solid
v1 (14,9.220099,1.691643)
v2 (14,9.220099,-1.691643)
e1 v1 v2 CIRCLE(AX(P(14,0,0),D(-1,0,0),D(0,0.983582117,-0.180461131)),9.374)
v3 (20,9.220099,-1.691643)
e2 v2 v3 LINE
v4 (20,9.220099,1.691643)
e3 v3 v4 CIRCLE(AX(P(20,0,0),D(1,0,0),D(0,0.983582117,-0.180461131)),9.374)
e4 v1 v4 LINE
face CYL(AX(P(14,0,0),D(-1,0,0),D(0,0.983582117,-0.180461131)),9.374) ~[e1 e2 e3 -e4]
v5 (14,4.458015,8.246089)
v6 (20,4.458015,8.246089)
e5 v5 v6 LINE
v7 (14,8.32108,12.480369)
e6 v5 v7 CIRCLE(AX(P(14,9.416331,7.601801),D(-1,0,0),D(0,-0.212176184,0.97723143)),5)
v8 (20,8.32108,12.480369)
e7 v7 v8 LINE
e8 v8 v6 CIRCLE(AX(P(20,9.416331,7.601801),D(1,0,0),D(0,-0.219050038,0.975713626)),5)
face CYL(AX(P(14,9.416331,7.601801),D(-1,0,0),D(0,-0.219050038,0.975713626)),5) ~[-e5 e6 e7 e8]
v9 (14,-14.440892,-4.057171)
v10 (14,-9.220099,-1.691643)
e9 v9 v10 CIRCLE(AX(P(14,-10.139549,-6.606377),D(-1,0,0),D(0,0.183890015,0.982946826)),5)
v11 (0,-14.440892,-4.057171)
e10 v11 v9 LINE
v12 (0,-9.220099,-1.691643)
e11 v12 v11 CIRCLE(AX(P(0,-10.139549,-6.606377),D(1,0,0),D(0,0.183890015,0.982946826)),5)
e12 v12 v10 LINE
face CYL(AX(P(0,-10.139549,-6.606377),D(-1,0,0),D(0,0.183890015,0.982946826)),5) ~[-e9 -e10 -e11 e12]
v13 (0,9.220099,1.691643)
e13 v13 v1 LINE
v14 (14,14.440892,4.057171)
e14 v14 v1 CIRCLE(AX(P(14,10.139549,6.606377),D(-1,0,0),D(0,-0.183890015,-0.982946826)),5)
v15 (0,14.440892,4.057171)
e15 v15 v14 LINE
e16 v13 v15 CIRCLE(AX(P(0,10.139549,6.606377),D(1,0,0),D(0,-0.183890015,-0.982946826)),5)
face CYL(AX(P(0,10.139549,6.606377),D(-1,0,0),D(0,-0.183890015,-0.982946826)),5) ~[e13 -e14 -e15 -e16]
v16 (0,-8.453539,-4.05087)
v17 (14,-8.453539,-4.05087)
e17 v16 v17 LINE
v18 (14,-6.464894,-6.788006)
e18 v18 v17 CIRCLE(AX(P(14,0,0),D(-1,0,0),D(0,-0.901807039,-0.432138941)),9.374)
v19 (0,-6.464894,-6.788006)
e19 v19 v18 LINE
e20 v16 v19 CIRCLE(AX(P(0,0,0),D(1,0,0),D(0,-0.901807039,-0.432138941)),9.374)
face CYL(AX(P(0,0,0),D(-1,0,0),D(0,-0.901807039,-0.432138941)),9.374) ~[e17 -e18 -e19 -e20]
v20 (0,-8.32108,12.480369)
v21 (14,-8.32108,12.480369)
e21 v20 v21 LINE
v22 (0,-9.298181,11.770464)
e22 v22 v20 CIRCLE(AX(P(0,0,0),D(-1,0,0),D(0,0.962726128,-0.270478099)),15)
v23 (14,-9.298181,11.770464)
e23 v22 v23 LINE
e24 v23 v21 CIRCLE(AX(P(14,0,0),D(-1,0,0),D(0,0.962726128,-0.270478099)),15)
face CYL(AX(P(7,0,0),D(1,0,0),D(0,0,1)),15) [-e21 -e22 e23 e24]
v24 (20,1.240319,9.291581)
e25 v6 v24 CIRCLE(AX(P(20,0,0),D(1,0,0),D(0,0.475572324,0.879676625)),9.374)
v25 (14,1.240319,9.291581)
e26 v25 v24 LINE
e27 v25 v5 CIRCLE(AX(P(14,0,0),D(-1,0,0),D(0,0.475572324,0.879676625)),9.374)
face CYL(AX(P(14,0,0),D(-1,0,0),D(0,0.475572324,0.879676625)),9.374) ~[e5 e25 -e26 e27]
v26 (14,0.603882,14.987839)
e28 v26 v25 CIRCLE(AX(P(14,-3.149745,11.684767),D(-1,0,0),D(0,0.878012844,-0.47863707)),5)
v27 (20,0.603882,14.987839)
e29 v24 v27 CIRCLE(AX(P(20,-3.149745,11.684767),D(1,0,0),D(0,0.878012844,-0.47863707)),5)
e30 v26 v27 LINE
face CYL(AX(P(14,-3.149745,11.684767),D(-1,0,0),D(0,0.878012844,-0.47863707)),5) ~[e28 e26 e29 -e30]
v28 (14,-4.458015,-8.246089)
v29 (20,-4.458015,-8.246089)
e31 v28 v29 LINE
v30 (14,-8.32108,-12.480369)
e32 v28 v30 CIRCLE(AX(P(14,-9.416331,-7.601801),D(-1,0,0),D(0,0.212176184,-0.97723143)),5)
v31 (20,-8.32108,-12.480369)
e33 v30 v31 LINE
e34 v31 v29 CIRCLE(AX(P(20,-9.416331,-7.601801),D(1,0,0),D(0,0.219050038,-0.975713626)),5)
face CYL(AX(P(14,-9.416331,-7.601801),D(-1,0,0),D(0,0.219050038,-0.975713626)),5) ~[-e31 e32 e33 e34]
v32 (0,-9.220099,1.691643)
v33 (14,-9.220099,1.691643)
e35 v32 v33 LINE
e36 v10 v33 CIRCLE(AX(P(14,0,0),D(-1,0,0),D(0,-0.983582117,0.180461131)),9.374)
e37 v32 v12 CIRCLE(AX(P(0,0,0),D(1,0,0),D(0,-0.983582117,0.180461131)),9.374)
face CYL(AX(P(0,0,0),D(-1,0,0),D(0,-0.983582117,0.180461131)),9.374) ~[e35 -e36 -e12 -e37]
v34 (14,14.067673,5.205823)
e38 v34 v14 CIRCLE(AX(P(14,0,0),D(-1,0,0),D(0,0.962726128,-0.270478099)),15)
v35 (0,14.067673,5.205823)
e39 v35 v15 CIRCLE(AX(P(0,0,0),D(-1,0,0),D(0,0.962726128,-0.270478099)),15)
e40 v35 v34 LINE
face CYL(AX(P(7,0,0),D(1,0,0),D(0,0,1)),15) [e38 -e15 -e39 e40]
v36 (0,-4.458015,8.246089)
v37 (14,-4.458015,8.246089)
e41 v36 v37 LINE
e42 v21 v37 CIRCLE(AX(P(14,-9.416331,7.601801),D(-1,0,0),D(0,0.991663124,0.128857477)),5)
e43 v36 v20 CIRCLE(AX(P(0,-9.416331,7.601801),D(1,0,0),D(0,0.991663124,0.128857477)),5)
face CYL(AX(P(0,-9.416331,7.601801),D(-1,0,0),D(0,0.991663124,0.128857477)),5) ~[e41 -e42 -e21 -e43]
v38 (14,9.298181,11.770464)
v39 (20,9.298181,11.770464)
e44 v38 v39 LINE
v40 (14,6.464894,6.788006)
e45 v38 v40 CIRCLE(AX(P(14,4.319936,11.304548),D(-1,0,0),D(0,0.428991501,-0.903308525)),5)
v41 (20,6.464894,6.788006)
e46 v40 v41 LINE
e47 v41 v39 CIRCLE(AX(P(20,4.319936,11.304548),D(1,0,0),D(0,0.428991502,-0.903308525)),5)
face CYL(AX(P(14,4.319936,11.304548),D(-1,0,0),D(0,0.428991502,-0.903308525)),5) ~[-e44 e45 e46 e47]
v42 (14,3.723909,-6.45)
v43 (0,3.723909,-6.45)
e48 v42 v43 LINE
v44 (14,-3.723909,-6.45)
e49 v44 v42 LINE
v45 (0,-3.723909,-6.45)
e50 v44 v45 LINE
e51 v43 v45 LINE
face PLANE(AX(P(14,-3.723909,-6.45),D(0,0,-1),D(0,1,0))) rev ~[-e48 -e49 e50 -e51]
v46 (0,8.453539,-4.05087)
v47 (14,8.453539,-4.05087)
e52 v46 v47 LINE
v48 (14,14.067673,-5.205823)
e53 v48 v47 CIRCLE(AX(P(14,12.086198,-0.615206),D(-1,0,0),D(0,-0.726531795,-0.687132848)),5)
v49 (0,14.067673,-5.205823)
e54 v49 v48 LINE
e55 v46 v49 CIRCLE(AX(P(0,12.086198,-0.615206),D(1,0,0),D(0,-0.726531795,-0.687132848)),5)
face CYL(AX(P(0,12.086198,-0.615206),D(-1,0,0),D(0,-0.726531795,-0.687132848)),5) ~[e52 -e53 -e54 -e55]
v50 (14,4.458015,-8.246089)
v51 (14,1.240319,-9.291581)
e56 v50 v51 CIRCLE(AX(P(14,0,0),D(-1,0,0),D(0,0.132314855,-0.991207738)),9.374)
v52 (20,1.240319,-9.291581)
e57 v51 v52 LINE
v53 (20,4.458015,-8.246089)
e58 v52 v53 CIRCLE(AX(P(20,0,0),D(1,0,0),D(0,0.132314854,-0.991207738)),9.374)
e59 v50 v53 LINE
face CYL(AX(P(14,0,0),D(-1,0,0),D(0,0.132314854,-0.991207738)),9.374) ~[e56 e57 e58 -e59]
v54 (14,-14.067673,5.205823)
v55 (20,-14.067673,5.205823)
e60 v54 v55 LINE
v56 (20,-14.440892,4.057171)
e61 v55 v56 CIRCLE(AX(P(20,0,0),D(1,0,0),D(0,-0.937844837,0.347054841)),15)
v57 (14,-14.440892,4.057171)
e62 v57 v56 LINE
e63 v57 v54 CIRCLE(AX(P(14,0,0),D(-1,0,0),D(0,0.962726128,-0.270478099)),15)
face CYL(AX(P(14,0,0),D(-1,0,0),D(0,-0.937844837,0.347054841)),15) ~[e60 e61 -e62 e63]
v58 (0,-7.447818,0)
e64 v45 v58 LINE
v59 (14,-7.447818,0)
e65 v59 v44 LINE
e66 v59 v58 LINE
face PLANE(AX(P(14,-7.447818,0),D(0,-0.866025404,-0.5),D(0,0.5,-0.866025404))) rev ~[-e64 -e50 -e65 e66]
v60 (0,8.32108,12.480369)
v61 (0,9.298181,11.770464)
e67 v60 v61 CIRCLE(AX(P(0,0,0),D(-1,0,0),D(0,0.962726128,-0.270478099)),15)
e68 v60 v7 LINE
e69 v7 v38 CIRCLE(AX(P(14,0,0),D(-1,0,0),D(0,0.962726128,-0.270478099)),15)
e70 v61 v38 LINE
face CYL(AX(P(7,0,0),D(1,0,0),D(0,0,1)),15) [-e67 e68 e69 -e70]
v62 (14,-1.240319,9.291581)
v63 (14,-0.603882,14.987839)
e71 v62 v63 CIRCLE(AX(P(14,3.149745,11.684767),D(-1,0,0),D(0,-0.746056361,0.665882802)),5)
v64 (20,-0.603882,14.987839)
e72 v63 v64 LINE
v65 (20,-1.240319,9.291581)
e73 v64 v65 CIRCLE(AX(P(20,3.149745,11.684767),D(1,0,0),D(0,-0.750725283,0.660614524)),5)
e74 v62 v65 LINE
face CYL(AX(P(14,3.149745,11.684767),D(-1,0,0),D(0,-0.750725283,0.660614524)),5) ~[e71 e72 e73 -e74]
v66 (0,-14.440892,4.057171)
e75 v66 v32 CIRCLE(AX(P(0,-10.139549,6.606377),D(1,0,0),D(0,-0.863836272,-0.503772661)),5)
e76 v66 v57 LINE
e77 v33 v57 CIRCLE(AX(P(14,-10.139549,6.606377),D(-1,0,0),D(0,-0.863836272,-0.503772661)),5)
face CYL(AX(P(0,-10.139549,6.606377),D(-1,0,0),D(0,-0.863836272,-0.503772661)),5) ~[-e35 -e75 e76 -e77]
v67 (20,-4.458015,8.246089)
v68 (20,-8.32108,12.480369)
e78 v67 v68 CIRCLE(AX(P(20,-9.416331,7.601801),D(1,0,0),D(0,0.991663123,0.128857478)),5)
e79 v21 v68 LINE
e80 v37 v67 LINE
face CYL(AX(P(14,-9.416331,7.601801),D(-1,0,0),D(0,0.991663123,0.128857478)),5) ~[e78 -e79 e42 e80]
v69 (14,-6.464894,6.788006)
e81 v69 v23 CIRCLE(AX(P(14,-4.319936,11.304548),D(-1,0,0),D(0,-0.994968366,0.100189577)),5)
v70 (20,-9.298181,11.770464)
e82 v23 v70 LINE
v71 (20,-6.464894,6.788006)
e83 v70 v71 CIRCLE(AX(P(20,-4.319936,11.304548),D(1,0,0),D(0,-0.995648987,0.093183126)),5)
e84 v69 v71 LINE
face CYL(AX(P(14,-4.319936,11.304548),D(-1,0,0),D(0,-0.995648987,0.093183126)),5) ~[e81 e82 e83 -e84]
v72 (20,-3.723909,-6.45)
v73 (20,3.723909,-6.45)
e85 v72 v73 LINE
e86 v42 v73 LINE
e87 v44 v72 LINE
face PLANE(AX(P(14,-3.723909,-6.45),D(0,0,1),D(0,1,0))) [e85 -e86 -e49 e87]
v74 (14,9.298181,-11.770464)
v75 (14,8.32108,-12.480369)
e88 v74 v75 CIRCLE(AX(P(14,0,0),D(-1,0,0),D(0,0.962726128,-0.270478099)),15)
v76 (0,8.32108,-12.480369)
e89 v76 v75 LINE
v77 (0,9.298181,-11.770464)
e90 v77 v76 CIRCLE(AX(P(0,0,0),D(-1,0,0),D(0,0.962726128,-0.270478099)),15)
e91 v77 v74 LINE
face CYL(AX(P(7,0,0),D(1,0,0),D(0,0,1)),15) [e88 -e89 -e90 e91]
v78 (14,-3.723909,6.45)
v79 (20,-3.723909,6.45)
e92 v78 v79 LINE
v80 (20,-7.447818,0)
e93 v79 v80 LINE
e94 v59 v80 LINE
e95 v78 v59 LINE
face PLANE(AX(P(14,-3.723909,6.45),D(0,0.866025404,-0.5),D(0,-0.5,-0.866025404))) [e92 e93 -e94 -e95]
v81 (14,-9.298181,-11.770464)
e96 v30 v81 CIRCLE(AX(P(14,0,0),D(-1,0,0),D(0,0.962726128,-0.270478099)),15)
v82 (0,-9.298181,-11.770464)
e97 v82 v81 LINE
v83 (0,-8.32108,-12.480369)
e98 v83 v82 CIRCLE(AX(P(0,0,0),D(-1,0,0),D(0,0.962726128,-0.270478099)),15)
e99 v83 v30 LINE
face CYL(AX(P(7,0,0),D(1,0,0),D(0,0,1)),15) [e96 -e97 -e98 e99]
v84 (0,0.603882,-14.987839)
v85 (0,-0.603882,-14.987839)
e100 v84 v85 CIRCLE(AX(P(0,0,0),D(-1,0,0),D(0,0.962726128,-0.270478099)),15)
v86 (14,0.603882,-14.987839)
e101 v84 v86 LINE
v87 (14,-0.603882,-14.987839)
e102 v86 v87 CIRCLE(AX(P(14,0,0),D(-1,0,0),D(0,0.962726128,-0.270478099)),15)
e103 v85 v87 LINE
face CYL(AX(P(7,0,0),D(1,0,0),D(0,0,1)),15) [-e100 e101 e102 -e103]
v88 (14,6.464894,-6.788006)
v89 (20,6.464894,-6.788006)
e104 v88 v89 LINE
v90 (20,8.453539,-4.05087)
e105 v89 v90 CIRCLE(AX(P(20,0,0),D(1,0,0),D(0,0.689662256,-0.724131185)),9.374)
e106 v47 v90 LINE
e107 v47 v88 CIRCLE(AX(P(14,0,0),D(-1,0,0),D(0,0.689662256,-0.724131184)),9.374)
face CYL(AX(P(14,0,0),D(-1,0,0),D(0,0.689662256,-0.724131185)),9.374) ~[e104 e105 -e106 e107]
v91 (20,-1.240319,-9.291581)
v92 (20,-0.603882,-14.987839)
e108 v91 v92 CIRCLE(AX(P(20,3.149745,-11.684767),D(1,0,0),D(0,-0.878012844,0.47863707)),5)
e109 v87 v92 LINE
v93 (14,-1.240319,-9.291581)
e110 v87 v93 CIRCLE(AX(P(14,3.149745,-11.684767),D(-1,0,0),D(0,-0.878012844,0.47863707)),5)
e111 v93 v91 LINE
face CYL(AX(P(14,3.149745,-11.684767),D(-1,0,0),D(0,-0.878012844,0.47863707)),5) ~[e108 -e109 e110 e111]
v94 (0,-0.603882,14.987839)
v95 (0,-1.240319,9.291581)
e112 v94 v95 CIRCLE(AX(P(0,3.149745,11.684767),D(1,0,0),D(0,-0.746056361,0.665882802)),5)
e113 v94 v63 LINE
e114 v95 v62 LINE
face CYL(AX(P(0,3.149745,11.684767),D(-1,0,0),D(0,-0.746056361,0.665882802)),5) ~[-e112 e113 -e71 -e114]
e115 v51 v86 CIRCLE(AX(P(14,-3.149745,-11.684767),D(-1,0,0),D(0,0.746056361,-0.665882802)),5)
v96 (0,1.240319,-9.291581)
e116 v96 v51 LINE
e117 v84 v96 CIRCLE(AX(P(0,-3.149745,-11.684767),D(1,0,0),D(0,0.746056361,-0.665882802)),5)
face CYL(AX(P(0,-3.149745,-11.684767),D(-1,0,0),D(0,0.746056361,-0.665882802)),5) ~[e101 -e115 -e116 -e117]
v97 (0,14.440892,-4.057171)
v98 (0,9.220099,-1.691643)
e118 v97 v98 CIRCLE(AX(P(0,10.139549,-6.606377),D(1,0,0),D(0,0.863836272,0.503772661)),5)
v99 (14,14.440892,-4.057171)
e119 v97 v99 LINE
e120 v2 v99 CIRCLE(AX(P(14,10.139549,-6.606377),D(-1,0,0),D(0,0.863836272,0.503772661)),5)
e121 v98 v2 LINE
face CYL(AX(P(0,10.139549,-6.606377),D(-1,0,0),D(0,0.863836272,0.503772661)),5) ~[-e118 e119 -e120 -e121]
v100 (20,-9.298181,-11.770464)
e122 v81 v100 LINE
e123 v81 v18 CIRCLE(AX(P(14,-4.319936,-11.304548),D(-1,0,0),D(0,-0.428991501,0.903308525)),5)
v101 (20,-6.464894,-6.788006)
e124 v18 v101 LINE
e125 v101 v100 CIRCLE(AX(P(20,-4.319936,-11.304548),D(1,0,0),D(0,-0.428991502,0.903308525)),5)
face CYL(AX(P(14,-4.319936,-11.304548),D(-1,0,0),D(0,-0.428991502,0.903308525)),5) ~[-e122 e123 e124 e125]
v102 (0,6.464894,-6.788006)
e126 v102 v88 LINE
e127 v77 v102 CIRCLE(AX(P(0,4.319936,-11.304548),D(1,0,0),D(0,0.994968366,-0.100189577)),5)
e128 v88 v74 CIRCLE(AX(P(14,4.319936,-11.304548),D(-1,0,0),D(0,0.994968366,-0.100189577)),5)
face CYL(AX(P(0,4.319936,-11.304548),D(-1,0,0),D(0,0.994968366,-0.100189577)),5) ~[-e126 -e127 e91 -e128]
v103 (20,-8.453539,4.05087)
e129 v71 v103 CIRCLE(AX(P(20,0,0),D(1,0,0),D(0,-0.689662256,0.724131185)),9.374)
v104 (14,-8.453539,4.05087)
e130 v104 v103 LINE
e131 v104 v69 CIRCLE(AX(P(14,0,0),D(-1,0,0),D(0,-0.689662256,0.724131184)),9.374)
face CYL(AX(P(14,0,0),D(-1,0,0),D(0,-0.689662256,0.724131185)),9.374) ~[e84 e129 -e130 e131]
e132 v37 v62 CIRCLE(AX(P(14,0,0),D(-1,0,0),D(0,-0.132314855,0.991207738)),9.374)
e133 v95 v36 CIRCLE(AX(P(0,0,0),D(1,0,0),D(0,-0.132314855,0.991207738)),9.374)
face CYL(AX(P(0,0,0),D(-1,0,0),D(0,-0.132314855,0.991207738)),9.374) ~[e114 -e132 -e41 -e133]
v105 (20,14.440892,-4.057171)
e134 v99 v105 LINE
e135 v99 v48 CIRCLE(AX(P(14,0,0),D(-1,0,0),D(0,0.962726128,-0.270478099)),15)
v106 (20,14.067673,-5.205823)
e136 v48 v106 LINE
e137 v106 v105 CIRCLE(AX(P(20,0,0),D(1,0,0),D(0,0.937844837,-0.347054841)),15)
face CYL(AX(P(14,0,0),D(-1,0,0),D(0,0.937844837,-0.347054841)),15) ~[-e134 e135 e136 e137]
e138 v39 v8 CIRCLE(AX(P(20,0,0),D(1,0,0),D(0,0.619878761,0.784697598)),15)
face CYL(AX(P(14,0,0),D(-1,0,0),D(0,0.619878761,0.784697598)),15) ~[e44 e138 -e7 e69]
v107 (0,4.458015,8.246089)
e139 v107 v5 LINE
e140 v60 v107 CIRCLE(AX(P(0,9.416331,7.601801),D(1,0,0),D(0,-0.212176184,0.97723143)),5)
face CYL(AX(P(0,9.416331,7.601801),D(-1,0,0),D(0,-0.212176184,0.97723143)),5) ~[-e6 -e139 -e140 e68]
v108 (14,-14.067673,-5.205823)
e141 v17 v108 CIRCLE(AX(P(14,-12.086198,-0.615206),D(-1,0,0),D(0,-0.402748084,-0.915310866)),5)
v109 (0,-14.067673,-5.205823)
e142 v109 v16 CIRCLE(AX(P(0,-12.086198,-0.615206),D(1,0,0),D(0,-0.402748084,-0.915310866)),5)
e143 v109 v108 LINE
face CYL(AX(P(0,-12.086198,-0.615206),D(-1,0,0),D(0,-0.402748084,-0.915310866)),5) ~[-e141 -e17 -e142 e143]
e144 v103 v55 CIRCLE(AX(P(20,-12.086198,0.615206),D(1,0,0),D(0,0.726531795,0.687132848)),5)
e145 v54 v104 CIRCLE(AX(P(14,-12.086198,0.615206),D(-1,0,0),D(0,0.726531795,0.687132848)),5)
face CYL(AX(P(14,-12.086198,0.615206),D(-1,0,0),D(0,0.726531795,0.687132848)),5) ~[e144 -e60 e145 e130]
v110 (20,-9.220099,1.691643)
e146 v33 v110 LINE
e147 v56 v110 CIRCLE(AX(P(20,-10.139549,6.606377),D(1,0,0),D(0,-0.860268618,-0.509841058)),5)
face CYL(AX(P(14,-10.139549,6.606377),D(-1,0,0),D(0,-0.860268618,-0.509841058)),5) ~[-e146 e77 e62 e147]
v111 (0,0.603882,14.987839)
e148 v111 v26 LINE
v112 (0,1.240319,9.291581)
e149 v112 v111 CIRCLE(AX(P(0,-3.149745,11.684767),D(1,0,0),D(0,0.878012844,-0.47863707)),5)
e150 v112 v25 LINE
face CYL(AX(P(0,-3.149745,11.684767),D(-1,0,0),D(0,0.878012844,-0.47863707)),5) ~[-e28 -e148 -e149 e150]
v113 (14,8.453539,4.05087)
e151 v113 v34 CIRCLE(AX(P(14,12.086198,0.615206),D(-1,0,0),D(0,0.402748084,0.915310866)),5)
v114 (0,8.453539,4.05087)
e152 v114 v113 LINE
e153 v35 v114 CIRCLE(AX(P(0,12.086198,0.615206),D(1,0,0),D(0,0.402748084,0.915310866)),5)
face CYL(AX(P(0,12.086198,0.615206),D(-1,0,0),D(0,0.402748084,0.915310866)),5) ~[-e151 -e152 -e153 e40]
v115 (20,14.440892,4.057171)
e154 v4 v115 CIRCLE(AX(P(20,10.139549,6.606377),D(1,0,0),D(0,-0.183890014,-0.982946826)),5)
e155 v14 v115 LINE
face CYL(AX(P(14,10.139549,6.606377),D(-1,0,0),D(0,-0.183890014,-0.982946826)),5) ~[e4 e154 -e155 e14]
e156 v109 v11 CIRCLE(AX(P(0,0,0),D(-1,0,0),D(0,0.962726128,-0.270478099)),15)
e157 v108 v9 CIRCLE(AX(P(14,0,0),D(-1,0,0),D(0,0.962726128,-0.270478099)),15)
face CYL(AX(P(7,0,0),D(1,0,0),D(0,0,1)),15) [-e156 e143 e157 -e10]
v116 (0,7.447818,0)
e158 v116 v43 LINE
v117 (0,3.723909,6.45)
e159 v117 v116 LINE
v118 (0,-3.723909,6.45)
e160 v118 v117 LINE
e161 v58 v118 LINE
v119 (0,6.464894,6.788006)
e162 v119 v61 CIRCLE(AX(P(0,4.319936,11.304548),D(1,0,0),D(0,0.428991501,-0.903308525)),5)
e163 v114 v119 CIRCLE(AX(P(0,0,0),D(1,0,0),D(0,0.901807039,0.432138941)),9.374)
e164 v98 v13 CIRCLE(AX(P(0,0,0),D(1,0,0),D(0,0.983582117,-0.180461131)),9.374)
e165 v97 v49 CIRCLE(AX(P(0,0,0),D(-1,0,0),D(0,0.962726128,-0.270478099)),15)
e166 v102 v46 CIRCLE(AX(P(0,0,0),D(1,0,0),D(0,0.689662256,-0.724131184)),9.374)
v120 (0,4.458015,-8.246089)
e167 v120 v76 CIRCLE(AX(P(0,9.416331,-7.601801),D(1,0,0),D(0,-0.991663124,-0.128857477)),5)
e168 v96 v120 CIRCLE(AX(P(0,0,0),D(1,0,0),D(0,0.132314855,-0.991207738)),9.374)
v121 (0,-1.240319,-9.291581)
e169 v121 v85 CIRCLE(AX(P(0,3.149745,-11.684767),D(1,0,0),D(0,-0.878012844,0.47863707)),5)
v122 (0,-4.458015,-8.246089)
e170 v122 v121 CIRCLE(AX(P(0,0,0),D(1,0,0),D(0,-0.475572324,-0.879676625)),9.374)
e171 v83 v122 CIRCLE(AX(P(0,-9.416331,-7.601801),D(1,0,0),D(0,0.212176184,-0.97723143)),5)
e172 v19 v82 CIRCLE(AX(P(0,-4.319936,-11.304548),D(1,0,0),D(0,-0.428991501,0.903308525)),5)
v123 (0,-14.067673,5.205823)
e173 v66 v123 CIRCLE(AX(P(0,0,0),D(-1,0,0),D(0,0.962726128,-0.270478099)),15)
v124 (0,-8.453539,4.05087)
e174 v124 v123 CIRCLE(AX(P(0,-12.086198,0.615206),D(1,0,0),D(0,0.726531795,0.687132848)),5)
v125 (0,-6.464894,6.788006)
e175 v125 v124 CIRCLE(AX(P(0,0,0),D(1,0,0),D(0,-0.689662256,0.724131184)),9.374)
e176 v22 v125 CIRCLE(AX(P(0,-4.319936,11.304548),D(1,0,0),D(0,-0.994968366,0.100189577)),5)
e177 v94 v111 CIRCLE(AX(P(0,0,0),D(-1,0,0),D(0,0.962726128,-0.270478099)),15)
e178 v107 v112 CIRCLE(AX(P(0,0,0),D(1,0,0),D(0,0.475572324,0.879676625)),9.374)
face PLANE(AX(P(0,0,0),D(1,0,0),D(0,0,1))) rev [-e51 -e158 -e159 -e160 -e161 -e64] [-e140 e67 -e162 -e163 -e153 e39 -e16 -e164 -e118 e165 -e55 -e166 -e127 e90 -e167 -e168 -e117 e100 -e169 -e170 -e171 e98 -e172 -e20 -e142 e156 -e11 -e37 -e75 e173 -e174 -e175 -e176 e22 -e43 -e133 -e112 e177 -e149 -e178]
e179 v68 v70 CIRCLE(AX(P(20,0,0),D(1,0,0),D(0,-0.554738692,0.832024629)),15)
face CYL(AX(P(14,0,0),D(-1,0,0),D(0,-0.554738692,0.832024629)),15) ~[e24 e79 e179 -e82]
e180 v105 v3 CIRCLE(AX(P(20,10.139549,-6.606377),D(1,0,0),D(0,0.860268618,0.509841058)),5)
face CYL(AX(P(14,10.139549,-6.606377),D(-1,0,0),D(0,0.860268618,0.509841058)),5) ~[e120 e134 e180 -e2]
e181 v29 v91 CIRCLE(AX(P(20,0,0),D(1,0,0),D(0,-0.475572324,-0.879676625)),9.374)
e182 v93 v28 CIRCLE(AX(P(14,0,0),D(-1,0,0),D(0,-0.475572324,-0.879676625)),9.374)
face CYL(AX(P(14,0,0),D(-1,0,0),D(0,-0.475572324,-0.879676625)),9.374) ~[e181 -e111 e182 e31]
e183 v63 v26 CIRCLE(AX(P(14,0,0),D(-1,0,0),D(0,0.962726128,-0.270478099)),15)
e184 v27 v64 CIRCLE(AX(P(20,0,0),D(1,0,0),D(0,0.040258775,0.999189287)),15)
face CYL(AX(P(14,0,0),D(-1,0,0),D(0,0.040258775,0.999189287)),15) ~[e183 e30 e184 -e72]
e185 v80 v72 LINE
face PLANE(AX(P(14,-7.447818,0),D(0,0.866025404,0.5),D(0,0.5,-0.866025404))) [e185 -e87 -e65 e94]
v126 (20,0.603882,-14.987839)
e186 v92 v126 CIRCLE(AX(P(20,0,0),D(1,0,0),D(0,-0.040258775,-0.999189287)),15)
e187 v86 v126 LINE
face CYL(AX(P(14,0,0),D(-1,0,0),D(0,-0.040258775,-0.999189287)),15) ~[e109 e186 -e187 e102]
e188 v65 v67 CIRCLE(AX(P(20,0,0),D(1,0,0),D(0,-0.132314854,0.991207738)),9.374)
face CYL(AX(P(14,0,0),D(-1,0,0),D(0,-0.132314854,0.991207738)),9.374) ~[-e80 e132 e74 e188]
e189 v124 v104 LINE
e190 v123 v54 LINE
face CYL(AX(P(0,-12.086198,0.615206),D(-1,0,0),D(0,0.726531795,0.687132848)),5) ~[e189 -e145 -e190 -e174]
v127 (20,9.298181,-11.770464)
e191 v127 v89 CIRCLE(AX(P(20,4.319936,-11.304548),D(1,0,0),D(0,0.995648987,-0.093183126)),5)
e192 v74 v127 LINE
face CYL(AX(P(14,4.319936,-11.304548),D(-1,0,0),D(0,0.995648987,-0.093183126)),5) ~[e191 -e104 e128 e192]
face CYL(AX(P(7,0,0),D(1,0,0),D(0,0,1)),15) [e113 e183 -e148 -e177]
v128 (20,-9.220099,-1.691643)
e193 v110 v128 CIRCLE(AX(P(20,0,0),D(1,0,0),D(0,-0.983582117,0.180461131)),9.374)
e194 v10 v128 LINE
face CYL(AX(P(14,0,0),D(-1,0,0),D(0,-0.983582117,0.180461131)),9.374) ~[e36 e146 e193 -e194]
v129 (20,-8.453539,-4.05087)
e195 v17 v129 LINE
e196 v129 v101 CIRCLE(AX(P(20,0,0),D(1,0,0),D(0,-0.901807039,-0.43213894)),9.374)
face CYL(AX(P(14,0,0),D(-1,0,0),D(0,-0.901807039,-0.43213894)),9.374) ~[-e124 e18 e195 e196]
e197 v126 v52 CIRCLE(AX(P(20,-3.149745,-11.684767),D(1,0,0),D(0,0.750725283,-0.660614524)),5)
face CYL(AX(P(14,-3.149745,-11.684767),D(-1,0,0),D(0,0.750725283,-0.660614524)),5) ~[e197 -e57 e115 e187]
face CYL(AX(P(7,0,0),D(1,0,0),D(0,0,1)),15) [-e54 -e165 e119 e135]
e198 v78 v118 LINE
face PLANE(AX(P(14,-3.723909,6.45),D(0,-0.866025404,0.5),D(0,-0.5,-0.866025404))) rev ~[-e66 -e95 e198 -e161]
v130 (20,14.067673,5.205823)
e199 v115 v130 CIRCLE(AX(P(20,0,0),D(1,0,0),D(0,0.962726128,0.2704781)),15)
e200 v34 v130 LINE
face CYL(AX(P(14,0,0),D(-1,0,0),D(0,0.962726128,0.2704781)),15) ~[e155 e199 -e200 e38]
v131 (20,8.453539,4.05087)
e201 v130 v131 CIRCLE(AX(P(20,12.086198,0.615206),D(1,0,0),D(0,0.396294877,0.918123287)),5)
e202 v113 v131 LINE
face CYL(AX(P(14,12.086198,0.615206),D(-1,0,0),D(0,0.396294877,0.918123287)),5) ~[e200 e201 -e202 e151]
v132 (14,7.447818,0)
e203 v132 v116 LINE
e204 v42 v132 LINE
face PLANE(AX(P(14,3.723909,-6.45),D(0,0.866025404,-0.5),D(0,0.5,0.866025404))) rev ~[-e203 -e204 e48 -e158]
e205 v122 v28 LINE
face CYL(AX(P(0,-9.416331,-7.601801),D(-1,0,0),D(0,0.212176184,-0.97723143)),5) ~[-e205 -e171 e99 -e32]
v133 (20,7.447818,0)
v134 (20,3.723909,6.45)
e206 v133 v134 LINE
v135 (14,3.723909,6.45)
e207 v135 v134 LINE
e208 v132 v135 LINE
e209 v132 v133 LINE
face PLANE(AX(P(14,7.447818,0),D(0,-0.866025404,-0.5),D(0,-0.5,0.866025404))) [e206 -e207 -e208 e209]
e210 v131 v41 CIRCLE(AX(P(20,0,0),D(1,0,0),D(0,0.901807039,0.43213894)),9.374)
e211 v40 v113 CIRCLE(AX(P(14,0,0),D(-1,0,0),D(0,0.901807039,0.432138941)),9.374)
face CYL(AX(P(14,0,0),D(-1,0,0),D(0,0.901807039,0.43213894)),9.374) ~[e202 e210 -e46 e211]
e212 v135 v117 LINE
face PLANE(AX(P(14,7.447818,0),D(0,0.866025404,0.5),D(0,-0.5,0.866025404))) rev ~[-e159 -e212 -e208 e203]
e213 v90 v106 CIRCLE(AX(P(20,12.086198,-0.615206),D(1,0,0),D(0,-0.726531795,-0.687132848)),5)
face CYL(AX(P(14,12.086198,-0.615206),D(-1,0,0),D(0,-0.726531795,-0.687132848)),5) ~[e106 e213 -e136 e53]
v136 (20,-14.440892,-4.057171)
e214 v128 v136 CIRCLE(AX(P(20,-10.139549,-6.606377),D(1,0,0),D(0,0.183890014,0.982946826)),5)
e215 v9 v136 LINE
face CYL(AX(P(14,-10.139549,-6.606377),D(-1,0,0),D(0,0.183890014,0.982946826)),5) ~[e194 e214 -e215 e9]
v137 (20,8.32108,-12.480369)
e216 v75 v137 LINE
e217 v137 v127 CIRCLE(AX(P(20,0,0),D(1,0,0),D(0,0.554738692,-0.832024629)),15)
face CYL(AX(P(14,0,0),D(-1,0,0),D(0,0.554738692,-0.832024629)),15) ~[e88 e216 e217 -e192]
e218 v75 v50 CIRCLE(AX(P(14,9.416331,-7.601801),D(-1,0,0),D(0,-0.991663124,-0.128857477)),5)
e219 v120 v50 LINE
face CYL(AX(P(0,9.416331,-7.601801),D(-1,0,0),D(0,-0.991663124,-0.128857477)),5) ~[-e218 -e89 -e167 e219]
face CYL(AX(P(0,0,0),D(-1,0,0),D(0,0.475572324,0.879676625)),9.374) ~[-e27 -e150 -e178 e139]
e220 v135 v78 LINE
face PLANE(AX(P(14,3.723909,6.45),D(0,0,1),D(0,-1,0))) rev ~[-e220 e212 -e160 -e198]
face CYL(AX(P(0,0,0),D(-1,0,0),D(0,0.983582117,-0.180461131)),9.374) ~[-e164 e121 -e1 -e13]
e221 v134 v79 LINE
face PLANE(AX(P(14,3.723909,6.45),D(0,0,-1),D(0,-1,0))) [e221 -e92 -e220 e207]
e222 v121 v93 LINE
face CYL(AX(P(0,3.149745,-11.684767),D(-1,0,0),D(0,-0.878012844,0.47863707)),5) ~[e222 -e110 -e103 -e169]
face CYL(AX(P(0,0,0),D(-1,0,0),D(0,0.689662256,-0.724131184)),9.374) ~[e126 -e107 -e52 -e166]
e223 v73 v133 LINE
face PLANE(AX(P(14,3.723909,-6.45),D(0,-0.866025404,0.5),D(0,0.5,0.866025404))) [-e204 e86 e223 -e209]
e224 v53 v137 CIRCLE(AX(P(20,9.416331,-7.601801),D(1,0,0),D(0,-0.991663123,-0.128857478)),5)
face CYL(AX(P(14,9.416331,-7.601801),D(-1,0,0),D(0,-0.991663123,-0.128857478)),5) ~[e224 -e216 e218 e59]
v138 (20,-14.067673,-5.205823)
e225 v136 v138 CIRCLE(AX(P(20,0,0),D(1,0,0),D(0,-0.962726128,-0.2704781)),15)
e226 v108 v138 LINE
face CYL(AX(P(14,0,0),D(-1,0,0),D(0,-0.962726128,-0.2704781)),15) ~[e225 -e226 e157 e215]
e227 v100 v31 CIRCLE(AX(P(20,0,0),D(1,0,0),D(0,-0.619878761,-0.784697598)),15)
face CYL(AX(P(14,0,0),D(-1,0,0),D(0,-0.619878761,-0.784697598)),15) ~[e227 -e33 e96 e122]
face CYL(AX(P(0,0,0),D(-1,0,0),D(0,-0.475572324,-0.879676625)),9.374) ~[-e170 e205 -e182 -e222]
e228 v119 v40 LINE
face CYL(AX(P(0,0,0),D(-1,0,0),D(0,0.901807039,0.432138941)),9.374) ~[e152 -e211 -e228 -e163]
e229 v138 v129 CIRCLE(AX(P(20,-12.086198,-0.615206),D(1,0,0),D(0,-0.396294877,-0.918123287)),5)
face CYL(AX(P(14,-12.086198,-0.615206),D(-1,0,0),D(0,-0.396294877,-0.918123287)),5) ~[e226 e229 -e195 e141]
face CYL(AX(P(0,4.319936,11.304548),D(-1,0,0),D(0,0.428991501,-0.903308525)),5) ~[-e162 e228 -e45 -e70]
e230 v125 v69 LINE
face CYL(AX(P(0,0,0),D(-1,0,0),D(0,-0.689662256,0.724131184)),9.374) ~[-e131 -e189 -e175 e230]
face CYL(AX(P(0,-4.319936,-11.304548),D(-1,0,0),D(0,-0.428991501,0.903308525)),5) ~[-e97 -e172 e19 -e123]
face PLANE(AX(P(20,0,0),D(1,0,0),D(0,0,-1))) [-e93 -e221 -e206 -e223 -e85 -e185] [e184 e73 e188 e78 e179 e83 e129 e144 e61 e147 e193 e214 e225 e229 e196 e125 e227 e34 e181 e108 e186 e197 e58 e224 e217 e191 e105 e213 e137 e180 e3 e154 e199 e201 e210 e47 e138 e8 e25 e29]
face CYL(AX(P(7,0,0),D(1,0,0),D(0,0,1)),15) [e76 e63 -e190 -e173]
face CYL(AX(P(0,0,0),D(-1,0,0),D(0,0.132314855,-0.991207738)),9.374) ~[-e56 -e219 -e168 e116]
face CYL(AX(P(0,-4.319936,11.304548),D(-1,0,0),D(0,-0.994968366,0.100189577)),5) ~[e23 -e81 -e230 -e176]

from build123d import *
from build123d.topology import SkipClean

# Parameters (mm, degrees)
BASPROSKE_W         = 14
BASPROSKE_H         = 15
TOOTHCUT_DEPTH      = 26.416530054
TEETHCUTS_COUNT     = 10
TEETHCUTS_ANGLE     = 324
BORSKE_R            = 5
BORE_DEPTH          = 50.0000508
CUT_EXTRUDE1_DEPTH  = 26.09062294
BOSS_EXTRUDE1_DEPTH = 6


with BuildPart() as part:
    # BasProSke → Base-Revolve (revolve)
    with BuildSketch(Plane(origin=(0, 0, 0), x_dir=(1, 0, 0), z_dir=(0, 1, 0)), mode=Mode.PRIVATE) as base_revolve_sk:
        with Locations((7, 7.5)):
            Rectangle(BASPROSKE_W, BASPROSKE_H)
    revolve(base_revolve_sk.sketch.rotate(Axis((-10, 0, 0), (1, 0, 0)), 180), axis=Axis((-10, 0, 0), (1, 0, 0)))

    # TooCutSke → ToothCut (cut, through all)
    with BuildSketch(Plane(origin=(0, 0, 0), x_dir=(0, 0, -1), z_dir=(1, 0, 0))):
        with BuildLine():
            ThreePointArc((1.691642647, 9.220098761), (0, 9.374), (-1.691642647, 9.220098761))
            ThreePointArc((-1.691642647, 9.220098761), (-2.059354944, 12.219114282), (-4.087513468, 14.458730194))
            ThreePointArc((-4.087513468, 14.458730194), (0, 15.0254), (4.087513468, 14.458730194))
            ThreePointArc((4.087513468, 14.458730194), (2.059354944, 12.219114282), (1.691642647, 9.220098761))
        make_face()
    toothcut = extrude(amount=TOOTHCUT_DEPTH, mode=Mode.SUBTRACT)

    # TeethCuts: ToothCut ×10 about axis
    teethcuts_axis = Axis((-10, 0, 0), (1, 0, 0))
    for i in range(1, TEETHCUTS_COUNT):
        add(toothcut.rotate(teethcuts_axis, i * TEETHCUTS_ANGLE / (TEETHCUTS_COUNT - 1)), mode=Mode.SUBTRACT)

    # BorSke → Bore (cut, symmetric)
    with BuildSketch(Plane(origin=(0, 0, 0), x_dir=(0, 0, -1), z_dir=(1, 0, 0))):
        with Locations(Location((0, 0, 0), (0, 0, 180))):
            Circle(BORSKE_R)
    extrude(amount=BORE_DEPTH, both=True, mode=Mode.SUBTRACT)

    # Sketch1 → Cut-Extrude1 (cut, through all)
    with BuildSketch(Plane(origin=(14, 0, 0), x_dir=(0, 0, -1), z_dir=(1, 0, 0))):
        Polygon((0, -7.447818473), (6.45, -3.723909236), (6.45, 3.723909236), (0, 7.447818473), (-6.45, 3.723909236), (-6.45, -3.723909236), align=None)
    extrude(amount=-CUT_EXTRUDE1_DEPTH, mode=Mode.SUBTRACT)

    # Sketch2 → Boss-Extrude1 (add)
    with SkipClean():  # the faces are left unmerged after this step: merging them gives an invalid solid
        with BuildSketch(Plane(origin=(14, 0, 0), x_dir=(0, 0, -1), z_dir=(1, 0, 0))):
            with BuildLine():
                ThreePointArc((14.987839303, -0.603881639), (15, 0), (14.987839303, 0.603881639))
                ThreePointArc((14.987839303, 0.603881639), (12.239957624, 1.819335924), (9.291581333, 1.240319444))
                ThreePointArc((9.291581333, 1.240319444), (8.915203784, 2.896725305), (8.246088681, 4.45801497))
                ThreePointArc((8.246088681, 4.45801497), (10.971712553, 5.7225929), (12.480369426, 8.321080397))
                ThreePointArc((12.480369426, 8.321080397), (12.135254916, 8.816778784), (11.770463983, 9.298181415))
                ThreePointArc((11.770463983, 9.298181415), (8.832954904, 8.666340261), (6.788005726, 6.464893987))
                ThreePointArc((6.788005726, 6.464893987), (5.509898955, 7.583725305), (4.050870426, 8.453539187))
                ThreePointArc((4.050870426, 8.453539187), (5.512646202, 11.078685739), (5.205822621, 14.067672545))
                ThreePointArc((5.205822621, 14.067672545), (4.635254916, 14.265847744), (4.057171486, 14.440891923))
                ThreePointArc((4.057171486, 14.440891923), (2.052063631, 12.203097177), (1.691642647, 9.220098761))
                ThreePointArc((1.691642647, 9.220098761), (0, 9.374), (-1.691642647, 9.220098761))
                ThreePointArc((-1.691642647, 9.220098761), (-2.052063631, 12.203097177), (-4.057171486, 14.440891923))
                ThreePointArc((-4.057171486, 14.440891923), (-4.635254916, 14.265847744), (-5.205822621, 14.067672545))
                ThreePointArc((-5.205822621, 14.067672545), (-5.512646202, 11.078685739), (-4.050870426, 8.453539187))
                ThreePointArc((-4.050870426, 8.453539187), (-5.509898955, 7.583725305), (-6.788005726, 6.464893987))
                ThreePointArc((-6.788005726, 6.464893987), (-8.832954904, 8.666340261), (-11.770463983, 9.298181415))
                ThreePointArc((-11.770463983, 9.298181415), (-12.135254916, 8.816778784), (-12.480369426, 8.321080397))
                ThreePointArc((-12.480369426, 8.321080397), (-10.971712553, 5.7225929), (-8.246088681, 4.45801497))
                ThreePointArc((-8.246088681, 4.45801497), (-8.915203784, 2.896725305), (-9.291581333, 1.240319444))
                ThreePointArc((-9.291581333, 1.240319444), (-12.239957624, 1.819335924), (-14.987839303, 0.603881639))
                ThreePointArc((-14.987839303, 0.603881639), (-15, 0), (-14.987839303, -0.603881639))
                ThreePointArc((-14.987839303, -0.603881639), (-12.239957624, -1.819335924), (-9.291581333, -1.240319444))
                ThreePointArc((-9.291581333, -1.240319444), (-8.915203784, -2.896725305), (-8.246088681, -4.45801497))
                ThreePointArc((-8.246088681, -4.45801497), (-10.971712553, -5.7225929), (-12.480369426, -8.321080397))
                ThreePointArc((-12.480369426, -8.321080397), (-12.135254916, -8.816778784), (-11.770463983, -9.298181415))
                ThreePointArc((-11.770463983, -9.298181415), (-8.832954904, -8.666340261), (-6.788005726, -6.464893987))
                ThreePointArc((-6.788005726, -6.464893987), (-5.509898955, -7.583725305), (-4.050870426, -8.453539187))
                ThreePointArc((-4.050870426, -8.453539187), (-5.512646202, -11.078685739), (-5.205822621, -14.067672545))
                ThreePointArc((-5.205822621, -14.067672545), (-4.635254916, -14.265847744), (-4.057171486, -14.440891923))
                ThreePointArc((-4.057171486, -14.440891923), (-2.052063631, -12.203097177), (-1.691642647, -9.220098761))
                ThreePointArc((-1.691642647, -9.220098761), (0, -9.374), (1.691642647, -9.220098761))
                ThreePointArc((1.691642647, -9.220098761), (2.052063631, -12.203097177), (4.057171486, -14.440891923))
                ThreePointArc((4.057171486, -14.440891923), (4.635254916, -14.265847744), (5.205822621, -14.067672545))
                ThreePointArc((5.205822621, -14.067672545), (5.512646202, -11.078685739), (4.050870426, -8.453539187))
                ThreePointArc((4.050870426, -8.453539187), (5.509898955, -7.583725305), (6.788005726, -6.464893987))
                ThreePointArc((6.788005726, -6.464893987), (8.832954904, -8.666340261), (11.770463983, -9.298181415))
                ThreePointArc((11.770463983, -9.298181415), (12.135254916, -8.816778784), (12.480369426, -8.321080397))
                ThreePointArc((12.480369426, -8.321080397), (10.971712553, -5.7225929), (8.246088681, -4.45801497))
                ThreePointArc((8.246088681, -4.45801497), (8.915203784, -2.896725305), (9.291581333, -1.240319444))
                ThreePointArc((9.291581333, -1.240319444), (12.239957624, -1.819335924), (14.987839303, -0.603881639))
            make_face()
            Polygon((-6.45, -3.723909236), (0, -7.447818473), (6.45, -3.723909236), (6.45, 3.723909236), (0, 7.447818473), (-6.45, 3.723909236), align=None, mode=Mode.SUBTRACT)
        extrude(amount=BOSS_EXTRUDE1_DEPTH)


solid = part.part
